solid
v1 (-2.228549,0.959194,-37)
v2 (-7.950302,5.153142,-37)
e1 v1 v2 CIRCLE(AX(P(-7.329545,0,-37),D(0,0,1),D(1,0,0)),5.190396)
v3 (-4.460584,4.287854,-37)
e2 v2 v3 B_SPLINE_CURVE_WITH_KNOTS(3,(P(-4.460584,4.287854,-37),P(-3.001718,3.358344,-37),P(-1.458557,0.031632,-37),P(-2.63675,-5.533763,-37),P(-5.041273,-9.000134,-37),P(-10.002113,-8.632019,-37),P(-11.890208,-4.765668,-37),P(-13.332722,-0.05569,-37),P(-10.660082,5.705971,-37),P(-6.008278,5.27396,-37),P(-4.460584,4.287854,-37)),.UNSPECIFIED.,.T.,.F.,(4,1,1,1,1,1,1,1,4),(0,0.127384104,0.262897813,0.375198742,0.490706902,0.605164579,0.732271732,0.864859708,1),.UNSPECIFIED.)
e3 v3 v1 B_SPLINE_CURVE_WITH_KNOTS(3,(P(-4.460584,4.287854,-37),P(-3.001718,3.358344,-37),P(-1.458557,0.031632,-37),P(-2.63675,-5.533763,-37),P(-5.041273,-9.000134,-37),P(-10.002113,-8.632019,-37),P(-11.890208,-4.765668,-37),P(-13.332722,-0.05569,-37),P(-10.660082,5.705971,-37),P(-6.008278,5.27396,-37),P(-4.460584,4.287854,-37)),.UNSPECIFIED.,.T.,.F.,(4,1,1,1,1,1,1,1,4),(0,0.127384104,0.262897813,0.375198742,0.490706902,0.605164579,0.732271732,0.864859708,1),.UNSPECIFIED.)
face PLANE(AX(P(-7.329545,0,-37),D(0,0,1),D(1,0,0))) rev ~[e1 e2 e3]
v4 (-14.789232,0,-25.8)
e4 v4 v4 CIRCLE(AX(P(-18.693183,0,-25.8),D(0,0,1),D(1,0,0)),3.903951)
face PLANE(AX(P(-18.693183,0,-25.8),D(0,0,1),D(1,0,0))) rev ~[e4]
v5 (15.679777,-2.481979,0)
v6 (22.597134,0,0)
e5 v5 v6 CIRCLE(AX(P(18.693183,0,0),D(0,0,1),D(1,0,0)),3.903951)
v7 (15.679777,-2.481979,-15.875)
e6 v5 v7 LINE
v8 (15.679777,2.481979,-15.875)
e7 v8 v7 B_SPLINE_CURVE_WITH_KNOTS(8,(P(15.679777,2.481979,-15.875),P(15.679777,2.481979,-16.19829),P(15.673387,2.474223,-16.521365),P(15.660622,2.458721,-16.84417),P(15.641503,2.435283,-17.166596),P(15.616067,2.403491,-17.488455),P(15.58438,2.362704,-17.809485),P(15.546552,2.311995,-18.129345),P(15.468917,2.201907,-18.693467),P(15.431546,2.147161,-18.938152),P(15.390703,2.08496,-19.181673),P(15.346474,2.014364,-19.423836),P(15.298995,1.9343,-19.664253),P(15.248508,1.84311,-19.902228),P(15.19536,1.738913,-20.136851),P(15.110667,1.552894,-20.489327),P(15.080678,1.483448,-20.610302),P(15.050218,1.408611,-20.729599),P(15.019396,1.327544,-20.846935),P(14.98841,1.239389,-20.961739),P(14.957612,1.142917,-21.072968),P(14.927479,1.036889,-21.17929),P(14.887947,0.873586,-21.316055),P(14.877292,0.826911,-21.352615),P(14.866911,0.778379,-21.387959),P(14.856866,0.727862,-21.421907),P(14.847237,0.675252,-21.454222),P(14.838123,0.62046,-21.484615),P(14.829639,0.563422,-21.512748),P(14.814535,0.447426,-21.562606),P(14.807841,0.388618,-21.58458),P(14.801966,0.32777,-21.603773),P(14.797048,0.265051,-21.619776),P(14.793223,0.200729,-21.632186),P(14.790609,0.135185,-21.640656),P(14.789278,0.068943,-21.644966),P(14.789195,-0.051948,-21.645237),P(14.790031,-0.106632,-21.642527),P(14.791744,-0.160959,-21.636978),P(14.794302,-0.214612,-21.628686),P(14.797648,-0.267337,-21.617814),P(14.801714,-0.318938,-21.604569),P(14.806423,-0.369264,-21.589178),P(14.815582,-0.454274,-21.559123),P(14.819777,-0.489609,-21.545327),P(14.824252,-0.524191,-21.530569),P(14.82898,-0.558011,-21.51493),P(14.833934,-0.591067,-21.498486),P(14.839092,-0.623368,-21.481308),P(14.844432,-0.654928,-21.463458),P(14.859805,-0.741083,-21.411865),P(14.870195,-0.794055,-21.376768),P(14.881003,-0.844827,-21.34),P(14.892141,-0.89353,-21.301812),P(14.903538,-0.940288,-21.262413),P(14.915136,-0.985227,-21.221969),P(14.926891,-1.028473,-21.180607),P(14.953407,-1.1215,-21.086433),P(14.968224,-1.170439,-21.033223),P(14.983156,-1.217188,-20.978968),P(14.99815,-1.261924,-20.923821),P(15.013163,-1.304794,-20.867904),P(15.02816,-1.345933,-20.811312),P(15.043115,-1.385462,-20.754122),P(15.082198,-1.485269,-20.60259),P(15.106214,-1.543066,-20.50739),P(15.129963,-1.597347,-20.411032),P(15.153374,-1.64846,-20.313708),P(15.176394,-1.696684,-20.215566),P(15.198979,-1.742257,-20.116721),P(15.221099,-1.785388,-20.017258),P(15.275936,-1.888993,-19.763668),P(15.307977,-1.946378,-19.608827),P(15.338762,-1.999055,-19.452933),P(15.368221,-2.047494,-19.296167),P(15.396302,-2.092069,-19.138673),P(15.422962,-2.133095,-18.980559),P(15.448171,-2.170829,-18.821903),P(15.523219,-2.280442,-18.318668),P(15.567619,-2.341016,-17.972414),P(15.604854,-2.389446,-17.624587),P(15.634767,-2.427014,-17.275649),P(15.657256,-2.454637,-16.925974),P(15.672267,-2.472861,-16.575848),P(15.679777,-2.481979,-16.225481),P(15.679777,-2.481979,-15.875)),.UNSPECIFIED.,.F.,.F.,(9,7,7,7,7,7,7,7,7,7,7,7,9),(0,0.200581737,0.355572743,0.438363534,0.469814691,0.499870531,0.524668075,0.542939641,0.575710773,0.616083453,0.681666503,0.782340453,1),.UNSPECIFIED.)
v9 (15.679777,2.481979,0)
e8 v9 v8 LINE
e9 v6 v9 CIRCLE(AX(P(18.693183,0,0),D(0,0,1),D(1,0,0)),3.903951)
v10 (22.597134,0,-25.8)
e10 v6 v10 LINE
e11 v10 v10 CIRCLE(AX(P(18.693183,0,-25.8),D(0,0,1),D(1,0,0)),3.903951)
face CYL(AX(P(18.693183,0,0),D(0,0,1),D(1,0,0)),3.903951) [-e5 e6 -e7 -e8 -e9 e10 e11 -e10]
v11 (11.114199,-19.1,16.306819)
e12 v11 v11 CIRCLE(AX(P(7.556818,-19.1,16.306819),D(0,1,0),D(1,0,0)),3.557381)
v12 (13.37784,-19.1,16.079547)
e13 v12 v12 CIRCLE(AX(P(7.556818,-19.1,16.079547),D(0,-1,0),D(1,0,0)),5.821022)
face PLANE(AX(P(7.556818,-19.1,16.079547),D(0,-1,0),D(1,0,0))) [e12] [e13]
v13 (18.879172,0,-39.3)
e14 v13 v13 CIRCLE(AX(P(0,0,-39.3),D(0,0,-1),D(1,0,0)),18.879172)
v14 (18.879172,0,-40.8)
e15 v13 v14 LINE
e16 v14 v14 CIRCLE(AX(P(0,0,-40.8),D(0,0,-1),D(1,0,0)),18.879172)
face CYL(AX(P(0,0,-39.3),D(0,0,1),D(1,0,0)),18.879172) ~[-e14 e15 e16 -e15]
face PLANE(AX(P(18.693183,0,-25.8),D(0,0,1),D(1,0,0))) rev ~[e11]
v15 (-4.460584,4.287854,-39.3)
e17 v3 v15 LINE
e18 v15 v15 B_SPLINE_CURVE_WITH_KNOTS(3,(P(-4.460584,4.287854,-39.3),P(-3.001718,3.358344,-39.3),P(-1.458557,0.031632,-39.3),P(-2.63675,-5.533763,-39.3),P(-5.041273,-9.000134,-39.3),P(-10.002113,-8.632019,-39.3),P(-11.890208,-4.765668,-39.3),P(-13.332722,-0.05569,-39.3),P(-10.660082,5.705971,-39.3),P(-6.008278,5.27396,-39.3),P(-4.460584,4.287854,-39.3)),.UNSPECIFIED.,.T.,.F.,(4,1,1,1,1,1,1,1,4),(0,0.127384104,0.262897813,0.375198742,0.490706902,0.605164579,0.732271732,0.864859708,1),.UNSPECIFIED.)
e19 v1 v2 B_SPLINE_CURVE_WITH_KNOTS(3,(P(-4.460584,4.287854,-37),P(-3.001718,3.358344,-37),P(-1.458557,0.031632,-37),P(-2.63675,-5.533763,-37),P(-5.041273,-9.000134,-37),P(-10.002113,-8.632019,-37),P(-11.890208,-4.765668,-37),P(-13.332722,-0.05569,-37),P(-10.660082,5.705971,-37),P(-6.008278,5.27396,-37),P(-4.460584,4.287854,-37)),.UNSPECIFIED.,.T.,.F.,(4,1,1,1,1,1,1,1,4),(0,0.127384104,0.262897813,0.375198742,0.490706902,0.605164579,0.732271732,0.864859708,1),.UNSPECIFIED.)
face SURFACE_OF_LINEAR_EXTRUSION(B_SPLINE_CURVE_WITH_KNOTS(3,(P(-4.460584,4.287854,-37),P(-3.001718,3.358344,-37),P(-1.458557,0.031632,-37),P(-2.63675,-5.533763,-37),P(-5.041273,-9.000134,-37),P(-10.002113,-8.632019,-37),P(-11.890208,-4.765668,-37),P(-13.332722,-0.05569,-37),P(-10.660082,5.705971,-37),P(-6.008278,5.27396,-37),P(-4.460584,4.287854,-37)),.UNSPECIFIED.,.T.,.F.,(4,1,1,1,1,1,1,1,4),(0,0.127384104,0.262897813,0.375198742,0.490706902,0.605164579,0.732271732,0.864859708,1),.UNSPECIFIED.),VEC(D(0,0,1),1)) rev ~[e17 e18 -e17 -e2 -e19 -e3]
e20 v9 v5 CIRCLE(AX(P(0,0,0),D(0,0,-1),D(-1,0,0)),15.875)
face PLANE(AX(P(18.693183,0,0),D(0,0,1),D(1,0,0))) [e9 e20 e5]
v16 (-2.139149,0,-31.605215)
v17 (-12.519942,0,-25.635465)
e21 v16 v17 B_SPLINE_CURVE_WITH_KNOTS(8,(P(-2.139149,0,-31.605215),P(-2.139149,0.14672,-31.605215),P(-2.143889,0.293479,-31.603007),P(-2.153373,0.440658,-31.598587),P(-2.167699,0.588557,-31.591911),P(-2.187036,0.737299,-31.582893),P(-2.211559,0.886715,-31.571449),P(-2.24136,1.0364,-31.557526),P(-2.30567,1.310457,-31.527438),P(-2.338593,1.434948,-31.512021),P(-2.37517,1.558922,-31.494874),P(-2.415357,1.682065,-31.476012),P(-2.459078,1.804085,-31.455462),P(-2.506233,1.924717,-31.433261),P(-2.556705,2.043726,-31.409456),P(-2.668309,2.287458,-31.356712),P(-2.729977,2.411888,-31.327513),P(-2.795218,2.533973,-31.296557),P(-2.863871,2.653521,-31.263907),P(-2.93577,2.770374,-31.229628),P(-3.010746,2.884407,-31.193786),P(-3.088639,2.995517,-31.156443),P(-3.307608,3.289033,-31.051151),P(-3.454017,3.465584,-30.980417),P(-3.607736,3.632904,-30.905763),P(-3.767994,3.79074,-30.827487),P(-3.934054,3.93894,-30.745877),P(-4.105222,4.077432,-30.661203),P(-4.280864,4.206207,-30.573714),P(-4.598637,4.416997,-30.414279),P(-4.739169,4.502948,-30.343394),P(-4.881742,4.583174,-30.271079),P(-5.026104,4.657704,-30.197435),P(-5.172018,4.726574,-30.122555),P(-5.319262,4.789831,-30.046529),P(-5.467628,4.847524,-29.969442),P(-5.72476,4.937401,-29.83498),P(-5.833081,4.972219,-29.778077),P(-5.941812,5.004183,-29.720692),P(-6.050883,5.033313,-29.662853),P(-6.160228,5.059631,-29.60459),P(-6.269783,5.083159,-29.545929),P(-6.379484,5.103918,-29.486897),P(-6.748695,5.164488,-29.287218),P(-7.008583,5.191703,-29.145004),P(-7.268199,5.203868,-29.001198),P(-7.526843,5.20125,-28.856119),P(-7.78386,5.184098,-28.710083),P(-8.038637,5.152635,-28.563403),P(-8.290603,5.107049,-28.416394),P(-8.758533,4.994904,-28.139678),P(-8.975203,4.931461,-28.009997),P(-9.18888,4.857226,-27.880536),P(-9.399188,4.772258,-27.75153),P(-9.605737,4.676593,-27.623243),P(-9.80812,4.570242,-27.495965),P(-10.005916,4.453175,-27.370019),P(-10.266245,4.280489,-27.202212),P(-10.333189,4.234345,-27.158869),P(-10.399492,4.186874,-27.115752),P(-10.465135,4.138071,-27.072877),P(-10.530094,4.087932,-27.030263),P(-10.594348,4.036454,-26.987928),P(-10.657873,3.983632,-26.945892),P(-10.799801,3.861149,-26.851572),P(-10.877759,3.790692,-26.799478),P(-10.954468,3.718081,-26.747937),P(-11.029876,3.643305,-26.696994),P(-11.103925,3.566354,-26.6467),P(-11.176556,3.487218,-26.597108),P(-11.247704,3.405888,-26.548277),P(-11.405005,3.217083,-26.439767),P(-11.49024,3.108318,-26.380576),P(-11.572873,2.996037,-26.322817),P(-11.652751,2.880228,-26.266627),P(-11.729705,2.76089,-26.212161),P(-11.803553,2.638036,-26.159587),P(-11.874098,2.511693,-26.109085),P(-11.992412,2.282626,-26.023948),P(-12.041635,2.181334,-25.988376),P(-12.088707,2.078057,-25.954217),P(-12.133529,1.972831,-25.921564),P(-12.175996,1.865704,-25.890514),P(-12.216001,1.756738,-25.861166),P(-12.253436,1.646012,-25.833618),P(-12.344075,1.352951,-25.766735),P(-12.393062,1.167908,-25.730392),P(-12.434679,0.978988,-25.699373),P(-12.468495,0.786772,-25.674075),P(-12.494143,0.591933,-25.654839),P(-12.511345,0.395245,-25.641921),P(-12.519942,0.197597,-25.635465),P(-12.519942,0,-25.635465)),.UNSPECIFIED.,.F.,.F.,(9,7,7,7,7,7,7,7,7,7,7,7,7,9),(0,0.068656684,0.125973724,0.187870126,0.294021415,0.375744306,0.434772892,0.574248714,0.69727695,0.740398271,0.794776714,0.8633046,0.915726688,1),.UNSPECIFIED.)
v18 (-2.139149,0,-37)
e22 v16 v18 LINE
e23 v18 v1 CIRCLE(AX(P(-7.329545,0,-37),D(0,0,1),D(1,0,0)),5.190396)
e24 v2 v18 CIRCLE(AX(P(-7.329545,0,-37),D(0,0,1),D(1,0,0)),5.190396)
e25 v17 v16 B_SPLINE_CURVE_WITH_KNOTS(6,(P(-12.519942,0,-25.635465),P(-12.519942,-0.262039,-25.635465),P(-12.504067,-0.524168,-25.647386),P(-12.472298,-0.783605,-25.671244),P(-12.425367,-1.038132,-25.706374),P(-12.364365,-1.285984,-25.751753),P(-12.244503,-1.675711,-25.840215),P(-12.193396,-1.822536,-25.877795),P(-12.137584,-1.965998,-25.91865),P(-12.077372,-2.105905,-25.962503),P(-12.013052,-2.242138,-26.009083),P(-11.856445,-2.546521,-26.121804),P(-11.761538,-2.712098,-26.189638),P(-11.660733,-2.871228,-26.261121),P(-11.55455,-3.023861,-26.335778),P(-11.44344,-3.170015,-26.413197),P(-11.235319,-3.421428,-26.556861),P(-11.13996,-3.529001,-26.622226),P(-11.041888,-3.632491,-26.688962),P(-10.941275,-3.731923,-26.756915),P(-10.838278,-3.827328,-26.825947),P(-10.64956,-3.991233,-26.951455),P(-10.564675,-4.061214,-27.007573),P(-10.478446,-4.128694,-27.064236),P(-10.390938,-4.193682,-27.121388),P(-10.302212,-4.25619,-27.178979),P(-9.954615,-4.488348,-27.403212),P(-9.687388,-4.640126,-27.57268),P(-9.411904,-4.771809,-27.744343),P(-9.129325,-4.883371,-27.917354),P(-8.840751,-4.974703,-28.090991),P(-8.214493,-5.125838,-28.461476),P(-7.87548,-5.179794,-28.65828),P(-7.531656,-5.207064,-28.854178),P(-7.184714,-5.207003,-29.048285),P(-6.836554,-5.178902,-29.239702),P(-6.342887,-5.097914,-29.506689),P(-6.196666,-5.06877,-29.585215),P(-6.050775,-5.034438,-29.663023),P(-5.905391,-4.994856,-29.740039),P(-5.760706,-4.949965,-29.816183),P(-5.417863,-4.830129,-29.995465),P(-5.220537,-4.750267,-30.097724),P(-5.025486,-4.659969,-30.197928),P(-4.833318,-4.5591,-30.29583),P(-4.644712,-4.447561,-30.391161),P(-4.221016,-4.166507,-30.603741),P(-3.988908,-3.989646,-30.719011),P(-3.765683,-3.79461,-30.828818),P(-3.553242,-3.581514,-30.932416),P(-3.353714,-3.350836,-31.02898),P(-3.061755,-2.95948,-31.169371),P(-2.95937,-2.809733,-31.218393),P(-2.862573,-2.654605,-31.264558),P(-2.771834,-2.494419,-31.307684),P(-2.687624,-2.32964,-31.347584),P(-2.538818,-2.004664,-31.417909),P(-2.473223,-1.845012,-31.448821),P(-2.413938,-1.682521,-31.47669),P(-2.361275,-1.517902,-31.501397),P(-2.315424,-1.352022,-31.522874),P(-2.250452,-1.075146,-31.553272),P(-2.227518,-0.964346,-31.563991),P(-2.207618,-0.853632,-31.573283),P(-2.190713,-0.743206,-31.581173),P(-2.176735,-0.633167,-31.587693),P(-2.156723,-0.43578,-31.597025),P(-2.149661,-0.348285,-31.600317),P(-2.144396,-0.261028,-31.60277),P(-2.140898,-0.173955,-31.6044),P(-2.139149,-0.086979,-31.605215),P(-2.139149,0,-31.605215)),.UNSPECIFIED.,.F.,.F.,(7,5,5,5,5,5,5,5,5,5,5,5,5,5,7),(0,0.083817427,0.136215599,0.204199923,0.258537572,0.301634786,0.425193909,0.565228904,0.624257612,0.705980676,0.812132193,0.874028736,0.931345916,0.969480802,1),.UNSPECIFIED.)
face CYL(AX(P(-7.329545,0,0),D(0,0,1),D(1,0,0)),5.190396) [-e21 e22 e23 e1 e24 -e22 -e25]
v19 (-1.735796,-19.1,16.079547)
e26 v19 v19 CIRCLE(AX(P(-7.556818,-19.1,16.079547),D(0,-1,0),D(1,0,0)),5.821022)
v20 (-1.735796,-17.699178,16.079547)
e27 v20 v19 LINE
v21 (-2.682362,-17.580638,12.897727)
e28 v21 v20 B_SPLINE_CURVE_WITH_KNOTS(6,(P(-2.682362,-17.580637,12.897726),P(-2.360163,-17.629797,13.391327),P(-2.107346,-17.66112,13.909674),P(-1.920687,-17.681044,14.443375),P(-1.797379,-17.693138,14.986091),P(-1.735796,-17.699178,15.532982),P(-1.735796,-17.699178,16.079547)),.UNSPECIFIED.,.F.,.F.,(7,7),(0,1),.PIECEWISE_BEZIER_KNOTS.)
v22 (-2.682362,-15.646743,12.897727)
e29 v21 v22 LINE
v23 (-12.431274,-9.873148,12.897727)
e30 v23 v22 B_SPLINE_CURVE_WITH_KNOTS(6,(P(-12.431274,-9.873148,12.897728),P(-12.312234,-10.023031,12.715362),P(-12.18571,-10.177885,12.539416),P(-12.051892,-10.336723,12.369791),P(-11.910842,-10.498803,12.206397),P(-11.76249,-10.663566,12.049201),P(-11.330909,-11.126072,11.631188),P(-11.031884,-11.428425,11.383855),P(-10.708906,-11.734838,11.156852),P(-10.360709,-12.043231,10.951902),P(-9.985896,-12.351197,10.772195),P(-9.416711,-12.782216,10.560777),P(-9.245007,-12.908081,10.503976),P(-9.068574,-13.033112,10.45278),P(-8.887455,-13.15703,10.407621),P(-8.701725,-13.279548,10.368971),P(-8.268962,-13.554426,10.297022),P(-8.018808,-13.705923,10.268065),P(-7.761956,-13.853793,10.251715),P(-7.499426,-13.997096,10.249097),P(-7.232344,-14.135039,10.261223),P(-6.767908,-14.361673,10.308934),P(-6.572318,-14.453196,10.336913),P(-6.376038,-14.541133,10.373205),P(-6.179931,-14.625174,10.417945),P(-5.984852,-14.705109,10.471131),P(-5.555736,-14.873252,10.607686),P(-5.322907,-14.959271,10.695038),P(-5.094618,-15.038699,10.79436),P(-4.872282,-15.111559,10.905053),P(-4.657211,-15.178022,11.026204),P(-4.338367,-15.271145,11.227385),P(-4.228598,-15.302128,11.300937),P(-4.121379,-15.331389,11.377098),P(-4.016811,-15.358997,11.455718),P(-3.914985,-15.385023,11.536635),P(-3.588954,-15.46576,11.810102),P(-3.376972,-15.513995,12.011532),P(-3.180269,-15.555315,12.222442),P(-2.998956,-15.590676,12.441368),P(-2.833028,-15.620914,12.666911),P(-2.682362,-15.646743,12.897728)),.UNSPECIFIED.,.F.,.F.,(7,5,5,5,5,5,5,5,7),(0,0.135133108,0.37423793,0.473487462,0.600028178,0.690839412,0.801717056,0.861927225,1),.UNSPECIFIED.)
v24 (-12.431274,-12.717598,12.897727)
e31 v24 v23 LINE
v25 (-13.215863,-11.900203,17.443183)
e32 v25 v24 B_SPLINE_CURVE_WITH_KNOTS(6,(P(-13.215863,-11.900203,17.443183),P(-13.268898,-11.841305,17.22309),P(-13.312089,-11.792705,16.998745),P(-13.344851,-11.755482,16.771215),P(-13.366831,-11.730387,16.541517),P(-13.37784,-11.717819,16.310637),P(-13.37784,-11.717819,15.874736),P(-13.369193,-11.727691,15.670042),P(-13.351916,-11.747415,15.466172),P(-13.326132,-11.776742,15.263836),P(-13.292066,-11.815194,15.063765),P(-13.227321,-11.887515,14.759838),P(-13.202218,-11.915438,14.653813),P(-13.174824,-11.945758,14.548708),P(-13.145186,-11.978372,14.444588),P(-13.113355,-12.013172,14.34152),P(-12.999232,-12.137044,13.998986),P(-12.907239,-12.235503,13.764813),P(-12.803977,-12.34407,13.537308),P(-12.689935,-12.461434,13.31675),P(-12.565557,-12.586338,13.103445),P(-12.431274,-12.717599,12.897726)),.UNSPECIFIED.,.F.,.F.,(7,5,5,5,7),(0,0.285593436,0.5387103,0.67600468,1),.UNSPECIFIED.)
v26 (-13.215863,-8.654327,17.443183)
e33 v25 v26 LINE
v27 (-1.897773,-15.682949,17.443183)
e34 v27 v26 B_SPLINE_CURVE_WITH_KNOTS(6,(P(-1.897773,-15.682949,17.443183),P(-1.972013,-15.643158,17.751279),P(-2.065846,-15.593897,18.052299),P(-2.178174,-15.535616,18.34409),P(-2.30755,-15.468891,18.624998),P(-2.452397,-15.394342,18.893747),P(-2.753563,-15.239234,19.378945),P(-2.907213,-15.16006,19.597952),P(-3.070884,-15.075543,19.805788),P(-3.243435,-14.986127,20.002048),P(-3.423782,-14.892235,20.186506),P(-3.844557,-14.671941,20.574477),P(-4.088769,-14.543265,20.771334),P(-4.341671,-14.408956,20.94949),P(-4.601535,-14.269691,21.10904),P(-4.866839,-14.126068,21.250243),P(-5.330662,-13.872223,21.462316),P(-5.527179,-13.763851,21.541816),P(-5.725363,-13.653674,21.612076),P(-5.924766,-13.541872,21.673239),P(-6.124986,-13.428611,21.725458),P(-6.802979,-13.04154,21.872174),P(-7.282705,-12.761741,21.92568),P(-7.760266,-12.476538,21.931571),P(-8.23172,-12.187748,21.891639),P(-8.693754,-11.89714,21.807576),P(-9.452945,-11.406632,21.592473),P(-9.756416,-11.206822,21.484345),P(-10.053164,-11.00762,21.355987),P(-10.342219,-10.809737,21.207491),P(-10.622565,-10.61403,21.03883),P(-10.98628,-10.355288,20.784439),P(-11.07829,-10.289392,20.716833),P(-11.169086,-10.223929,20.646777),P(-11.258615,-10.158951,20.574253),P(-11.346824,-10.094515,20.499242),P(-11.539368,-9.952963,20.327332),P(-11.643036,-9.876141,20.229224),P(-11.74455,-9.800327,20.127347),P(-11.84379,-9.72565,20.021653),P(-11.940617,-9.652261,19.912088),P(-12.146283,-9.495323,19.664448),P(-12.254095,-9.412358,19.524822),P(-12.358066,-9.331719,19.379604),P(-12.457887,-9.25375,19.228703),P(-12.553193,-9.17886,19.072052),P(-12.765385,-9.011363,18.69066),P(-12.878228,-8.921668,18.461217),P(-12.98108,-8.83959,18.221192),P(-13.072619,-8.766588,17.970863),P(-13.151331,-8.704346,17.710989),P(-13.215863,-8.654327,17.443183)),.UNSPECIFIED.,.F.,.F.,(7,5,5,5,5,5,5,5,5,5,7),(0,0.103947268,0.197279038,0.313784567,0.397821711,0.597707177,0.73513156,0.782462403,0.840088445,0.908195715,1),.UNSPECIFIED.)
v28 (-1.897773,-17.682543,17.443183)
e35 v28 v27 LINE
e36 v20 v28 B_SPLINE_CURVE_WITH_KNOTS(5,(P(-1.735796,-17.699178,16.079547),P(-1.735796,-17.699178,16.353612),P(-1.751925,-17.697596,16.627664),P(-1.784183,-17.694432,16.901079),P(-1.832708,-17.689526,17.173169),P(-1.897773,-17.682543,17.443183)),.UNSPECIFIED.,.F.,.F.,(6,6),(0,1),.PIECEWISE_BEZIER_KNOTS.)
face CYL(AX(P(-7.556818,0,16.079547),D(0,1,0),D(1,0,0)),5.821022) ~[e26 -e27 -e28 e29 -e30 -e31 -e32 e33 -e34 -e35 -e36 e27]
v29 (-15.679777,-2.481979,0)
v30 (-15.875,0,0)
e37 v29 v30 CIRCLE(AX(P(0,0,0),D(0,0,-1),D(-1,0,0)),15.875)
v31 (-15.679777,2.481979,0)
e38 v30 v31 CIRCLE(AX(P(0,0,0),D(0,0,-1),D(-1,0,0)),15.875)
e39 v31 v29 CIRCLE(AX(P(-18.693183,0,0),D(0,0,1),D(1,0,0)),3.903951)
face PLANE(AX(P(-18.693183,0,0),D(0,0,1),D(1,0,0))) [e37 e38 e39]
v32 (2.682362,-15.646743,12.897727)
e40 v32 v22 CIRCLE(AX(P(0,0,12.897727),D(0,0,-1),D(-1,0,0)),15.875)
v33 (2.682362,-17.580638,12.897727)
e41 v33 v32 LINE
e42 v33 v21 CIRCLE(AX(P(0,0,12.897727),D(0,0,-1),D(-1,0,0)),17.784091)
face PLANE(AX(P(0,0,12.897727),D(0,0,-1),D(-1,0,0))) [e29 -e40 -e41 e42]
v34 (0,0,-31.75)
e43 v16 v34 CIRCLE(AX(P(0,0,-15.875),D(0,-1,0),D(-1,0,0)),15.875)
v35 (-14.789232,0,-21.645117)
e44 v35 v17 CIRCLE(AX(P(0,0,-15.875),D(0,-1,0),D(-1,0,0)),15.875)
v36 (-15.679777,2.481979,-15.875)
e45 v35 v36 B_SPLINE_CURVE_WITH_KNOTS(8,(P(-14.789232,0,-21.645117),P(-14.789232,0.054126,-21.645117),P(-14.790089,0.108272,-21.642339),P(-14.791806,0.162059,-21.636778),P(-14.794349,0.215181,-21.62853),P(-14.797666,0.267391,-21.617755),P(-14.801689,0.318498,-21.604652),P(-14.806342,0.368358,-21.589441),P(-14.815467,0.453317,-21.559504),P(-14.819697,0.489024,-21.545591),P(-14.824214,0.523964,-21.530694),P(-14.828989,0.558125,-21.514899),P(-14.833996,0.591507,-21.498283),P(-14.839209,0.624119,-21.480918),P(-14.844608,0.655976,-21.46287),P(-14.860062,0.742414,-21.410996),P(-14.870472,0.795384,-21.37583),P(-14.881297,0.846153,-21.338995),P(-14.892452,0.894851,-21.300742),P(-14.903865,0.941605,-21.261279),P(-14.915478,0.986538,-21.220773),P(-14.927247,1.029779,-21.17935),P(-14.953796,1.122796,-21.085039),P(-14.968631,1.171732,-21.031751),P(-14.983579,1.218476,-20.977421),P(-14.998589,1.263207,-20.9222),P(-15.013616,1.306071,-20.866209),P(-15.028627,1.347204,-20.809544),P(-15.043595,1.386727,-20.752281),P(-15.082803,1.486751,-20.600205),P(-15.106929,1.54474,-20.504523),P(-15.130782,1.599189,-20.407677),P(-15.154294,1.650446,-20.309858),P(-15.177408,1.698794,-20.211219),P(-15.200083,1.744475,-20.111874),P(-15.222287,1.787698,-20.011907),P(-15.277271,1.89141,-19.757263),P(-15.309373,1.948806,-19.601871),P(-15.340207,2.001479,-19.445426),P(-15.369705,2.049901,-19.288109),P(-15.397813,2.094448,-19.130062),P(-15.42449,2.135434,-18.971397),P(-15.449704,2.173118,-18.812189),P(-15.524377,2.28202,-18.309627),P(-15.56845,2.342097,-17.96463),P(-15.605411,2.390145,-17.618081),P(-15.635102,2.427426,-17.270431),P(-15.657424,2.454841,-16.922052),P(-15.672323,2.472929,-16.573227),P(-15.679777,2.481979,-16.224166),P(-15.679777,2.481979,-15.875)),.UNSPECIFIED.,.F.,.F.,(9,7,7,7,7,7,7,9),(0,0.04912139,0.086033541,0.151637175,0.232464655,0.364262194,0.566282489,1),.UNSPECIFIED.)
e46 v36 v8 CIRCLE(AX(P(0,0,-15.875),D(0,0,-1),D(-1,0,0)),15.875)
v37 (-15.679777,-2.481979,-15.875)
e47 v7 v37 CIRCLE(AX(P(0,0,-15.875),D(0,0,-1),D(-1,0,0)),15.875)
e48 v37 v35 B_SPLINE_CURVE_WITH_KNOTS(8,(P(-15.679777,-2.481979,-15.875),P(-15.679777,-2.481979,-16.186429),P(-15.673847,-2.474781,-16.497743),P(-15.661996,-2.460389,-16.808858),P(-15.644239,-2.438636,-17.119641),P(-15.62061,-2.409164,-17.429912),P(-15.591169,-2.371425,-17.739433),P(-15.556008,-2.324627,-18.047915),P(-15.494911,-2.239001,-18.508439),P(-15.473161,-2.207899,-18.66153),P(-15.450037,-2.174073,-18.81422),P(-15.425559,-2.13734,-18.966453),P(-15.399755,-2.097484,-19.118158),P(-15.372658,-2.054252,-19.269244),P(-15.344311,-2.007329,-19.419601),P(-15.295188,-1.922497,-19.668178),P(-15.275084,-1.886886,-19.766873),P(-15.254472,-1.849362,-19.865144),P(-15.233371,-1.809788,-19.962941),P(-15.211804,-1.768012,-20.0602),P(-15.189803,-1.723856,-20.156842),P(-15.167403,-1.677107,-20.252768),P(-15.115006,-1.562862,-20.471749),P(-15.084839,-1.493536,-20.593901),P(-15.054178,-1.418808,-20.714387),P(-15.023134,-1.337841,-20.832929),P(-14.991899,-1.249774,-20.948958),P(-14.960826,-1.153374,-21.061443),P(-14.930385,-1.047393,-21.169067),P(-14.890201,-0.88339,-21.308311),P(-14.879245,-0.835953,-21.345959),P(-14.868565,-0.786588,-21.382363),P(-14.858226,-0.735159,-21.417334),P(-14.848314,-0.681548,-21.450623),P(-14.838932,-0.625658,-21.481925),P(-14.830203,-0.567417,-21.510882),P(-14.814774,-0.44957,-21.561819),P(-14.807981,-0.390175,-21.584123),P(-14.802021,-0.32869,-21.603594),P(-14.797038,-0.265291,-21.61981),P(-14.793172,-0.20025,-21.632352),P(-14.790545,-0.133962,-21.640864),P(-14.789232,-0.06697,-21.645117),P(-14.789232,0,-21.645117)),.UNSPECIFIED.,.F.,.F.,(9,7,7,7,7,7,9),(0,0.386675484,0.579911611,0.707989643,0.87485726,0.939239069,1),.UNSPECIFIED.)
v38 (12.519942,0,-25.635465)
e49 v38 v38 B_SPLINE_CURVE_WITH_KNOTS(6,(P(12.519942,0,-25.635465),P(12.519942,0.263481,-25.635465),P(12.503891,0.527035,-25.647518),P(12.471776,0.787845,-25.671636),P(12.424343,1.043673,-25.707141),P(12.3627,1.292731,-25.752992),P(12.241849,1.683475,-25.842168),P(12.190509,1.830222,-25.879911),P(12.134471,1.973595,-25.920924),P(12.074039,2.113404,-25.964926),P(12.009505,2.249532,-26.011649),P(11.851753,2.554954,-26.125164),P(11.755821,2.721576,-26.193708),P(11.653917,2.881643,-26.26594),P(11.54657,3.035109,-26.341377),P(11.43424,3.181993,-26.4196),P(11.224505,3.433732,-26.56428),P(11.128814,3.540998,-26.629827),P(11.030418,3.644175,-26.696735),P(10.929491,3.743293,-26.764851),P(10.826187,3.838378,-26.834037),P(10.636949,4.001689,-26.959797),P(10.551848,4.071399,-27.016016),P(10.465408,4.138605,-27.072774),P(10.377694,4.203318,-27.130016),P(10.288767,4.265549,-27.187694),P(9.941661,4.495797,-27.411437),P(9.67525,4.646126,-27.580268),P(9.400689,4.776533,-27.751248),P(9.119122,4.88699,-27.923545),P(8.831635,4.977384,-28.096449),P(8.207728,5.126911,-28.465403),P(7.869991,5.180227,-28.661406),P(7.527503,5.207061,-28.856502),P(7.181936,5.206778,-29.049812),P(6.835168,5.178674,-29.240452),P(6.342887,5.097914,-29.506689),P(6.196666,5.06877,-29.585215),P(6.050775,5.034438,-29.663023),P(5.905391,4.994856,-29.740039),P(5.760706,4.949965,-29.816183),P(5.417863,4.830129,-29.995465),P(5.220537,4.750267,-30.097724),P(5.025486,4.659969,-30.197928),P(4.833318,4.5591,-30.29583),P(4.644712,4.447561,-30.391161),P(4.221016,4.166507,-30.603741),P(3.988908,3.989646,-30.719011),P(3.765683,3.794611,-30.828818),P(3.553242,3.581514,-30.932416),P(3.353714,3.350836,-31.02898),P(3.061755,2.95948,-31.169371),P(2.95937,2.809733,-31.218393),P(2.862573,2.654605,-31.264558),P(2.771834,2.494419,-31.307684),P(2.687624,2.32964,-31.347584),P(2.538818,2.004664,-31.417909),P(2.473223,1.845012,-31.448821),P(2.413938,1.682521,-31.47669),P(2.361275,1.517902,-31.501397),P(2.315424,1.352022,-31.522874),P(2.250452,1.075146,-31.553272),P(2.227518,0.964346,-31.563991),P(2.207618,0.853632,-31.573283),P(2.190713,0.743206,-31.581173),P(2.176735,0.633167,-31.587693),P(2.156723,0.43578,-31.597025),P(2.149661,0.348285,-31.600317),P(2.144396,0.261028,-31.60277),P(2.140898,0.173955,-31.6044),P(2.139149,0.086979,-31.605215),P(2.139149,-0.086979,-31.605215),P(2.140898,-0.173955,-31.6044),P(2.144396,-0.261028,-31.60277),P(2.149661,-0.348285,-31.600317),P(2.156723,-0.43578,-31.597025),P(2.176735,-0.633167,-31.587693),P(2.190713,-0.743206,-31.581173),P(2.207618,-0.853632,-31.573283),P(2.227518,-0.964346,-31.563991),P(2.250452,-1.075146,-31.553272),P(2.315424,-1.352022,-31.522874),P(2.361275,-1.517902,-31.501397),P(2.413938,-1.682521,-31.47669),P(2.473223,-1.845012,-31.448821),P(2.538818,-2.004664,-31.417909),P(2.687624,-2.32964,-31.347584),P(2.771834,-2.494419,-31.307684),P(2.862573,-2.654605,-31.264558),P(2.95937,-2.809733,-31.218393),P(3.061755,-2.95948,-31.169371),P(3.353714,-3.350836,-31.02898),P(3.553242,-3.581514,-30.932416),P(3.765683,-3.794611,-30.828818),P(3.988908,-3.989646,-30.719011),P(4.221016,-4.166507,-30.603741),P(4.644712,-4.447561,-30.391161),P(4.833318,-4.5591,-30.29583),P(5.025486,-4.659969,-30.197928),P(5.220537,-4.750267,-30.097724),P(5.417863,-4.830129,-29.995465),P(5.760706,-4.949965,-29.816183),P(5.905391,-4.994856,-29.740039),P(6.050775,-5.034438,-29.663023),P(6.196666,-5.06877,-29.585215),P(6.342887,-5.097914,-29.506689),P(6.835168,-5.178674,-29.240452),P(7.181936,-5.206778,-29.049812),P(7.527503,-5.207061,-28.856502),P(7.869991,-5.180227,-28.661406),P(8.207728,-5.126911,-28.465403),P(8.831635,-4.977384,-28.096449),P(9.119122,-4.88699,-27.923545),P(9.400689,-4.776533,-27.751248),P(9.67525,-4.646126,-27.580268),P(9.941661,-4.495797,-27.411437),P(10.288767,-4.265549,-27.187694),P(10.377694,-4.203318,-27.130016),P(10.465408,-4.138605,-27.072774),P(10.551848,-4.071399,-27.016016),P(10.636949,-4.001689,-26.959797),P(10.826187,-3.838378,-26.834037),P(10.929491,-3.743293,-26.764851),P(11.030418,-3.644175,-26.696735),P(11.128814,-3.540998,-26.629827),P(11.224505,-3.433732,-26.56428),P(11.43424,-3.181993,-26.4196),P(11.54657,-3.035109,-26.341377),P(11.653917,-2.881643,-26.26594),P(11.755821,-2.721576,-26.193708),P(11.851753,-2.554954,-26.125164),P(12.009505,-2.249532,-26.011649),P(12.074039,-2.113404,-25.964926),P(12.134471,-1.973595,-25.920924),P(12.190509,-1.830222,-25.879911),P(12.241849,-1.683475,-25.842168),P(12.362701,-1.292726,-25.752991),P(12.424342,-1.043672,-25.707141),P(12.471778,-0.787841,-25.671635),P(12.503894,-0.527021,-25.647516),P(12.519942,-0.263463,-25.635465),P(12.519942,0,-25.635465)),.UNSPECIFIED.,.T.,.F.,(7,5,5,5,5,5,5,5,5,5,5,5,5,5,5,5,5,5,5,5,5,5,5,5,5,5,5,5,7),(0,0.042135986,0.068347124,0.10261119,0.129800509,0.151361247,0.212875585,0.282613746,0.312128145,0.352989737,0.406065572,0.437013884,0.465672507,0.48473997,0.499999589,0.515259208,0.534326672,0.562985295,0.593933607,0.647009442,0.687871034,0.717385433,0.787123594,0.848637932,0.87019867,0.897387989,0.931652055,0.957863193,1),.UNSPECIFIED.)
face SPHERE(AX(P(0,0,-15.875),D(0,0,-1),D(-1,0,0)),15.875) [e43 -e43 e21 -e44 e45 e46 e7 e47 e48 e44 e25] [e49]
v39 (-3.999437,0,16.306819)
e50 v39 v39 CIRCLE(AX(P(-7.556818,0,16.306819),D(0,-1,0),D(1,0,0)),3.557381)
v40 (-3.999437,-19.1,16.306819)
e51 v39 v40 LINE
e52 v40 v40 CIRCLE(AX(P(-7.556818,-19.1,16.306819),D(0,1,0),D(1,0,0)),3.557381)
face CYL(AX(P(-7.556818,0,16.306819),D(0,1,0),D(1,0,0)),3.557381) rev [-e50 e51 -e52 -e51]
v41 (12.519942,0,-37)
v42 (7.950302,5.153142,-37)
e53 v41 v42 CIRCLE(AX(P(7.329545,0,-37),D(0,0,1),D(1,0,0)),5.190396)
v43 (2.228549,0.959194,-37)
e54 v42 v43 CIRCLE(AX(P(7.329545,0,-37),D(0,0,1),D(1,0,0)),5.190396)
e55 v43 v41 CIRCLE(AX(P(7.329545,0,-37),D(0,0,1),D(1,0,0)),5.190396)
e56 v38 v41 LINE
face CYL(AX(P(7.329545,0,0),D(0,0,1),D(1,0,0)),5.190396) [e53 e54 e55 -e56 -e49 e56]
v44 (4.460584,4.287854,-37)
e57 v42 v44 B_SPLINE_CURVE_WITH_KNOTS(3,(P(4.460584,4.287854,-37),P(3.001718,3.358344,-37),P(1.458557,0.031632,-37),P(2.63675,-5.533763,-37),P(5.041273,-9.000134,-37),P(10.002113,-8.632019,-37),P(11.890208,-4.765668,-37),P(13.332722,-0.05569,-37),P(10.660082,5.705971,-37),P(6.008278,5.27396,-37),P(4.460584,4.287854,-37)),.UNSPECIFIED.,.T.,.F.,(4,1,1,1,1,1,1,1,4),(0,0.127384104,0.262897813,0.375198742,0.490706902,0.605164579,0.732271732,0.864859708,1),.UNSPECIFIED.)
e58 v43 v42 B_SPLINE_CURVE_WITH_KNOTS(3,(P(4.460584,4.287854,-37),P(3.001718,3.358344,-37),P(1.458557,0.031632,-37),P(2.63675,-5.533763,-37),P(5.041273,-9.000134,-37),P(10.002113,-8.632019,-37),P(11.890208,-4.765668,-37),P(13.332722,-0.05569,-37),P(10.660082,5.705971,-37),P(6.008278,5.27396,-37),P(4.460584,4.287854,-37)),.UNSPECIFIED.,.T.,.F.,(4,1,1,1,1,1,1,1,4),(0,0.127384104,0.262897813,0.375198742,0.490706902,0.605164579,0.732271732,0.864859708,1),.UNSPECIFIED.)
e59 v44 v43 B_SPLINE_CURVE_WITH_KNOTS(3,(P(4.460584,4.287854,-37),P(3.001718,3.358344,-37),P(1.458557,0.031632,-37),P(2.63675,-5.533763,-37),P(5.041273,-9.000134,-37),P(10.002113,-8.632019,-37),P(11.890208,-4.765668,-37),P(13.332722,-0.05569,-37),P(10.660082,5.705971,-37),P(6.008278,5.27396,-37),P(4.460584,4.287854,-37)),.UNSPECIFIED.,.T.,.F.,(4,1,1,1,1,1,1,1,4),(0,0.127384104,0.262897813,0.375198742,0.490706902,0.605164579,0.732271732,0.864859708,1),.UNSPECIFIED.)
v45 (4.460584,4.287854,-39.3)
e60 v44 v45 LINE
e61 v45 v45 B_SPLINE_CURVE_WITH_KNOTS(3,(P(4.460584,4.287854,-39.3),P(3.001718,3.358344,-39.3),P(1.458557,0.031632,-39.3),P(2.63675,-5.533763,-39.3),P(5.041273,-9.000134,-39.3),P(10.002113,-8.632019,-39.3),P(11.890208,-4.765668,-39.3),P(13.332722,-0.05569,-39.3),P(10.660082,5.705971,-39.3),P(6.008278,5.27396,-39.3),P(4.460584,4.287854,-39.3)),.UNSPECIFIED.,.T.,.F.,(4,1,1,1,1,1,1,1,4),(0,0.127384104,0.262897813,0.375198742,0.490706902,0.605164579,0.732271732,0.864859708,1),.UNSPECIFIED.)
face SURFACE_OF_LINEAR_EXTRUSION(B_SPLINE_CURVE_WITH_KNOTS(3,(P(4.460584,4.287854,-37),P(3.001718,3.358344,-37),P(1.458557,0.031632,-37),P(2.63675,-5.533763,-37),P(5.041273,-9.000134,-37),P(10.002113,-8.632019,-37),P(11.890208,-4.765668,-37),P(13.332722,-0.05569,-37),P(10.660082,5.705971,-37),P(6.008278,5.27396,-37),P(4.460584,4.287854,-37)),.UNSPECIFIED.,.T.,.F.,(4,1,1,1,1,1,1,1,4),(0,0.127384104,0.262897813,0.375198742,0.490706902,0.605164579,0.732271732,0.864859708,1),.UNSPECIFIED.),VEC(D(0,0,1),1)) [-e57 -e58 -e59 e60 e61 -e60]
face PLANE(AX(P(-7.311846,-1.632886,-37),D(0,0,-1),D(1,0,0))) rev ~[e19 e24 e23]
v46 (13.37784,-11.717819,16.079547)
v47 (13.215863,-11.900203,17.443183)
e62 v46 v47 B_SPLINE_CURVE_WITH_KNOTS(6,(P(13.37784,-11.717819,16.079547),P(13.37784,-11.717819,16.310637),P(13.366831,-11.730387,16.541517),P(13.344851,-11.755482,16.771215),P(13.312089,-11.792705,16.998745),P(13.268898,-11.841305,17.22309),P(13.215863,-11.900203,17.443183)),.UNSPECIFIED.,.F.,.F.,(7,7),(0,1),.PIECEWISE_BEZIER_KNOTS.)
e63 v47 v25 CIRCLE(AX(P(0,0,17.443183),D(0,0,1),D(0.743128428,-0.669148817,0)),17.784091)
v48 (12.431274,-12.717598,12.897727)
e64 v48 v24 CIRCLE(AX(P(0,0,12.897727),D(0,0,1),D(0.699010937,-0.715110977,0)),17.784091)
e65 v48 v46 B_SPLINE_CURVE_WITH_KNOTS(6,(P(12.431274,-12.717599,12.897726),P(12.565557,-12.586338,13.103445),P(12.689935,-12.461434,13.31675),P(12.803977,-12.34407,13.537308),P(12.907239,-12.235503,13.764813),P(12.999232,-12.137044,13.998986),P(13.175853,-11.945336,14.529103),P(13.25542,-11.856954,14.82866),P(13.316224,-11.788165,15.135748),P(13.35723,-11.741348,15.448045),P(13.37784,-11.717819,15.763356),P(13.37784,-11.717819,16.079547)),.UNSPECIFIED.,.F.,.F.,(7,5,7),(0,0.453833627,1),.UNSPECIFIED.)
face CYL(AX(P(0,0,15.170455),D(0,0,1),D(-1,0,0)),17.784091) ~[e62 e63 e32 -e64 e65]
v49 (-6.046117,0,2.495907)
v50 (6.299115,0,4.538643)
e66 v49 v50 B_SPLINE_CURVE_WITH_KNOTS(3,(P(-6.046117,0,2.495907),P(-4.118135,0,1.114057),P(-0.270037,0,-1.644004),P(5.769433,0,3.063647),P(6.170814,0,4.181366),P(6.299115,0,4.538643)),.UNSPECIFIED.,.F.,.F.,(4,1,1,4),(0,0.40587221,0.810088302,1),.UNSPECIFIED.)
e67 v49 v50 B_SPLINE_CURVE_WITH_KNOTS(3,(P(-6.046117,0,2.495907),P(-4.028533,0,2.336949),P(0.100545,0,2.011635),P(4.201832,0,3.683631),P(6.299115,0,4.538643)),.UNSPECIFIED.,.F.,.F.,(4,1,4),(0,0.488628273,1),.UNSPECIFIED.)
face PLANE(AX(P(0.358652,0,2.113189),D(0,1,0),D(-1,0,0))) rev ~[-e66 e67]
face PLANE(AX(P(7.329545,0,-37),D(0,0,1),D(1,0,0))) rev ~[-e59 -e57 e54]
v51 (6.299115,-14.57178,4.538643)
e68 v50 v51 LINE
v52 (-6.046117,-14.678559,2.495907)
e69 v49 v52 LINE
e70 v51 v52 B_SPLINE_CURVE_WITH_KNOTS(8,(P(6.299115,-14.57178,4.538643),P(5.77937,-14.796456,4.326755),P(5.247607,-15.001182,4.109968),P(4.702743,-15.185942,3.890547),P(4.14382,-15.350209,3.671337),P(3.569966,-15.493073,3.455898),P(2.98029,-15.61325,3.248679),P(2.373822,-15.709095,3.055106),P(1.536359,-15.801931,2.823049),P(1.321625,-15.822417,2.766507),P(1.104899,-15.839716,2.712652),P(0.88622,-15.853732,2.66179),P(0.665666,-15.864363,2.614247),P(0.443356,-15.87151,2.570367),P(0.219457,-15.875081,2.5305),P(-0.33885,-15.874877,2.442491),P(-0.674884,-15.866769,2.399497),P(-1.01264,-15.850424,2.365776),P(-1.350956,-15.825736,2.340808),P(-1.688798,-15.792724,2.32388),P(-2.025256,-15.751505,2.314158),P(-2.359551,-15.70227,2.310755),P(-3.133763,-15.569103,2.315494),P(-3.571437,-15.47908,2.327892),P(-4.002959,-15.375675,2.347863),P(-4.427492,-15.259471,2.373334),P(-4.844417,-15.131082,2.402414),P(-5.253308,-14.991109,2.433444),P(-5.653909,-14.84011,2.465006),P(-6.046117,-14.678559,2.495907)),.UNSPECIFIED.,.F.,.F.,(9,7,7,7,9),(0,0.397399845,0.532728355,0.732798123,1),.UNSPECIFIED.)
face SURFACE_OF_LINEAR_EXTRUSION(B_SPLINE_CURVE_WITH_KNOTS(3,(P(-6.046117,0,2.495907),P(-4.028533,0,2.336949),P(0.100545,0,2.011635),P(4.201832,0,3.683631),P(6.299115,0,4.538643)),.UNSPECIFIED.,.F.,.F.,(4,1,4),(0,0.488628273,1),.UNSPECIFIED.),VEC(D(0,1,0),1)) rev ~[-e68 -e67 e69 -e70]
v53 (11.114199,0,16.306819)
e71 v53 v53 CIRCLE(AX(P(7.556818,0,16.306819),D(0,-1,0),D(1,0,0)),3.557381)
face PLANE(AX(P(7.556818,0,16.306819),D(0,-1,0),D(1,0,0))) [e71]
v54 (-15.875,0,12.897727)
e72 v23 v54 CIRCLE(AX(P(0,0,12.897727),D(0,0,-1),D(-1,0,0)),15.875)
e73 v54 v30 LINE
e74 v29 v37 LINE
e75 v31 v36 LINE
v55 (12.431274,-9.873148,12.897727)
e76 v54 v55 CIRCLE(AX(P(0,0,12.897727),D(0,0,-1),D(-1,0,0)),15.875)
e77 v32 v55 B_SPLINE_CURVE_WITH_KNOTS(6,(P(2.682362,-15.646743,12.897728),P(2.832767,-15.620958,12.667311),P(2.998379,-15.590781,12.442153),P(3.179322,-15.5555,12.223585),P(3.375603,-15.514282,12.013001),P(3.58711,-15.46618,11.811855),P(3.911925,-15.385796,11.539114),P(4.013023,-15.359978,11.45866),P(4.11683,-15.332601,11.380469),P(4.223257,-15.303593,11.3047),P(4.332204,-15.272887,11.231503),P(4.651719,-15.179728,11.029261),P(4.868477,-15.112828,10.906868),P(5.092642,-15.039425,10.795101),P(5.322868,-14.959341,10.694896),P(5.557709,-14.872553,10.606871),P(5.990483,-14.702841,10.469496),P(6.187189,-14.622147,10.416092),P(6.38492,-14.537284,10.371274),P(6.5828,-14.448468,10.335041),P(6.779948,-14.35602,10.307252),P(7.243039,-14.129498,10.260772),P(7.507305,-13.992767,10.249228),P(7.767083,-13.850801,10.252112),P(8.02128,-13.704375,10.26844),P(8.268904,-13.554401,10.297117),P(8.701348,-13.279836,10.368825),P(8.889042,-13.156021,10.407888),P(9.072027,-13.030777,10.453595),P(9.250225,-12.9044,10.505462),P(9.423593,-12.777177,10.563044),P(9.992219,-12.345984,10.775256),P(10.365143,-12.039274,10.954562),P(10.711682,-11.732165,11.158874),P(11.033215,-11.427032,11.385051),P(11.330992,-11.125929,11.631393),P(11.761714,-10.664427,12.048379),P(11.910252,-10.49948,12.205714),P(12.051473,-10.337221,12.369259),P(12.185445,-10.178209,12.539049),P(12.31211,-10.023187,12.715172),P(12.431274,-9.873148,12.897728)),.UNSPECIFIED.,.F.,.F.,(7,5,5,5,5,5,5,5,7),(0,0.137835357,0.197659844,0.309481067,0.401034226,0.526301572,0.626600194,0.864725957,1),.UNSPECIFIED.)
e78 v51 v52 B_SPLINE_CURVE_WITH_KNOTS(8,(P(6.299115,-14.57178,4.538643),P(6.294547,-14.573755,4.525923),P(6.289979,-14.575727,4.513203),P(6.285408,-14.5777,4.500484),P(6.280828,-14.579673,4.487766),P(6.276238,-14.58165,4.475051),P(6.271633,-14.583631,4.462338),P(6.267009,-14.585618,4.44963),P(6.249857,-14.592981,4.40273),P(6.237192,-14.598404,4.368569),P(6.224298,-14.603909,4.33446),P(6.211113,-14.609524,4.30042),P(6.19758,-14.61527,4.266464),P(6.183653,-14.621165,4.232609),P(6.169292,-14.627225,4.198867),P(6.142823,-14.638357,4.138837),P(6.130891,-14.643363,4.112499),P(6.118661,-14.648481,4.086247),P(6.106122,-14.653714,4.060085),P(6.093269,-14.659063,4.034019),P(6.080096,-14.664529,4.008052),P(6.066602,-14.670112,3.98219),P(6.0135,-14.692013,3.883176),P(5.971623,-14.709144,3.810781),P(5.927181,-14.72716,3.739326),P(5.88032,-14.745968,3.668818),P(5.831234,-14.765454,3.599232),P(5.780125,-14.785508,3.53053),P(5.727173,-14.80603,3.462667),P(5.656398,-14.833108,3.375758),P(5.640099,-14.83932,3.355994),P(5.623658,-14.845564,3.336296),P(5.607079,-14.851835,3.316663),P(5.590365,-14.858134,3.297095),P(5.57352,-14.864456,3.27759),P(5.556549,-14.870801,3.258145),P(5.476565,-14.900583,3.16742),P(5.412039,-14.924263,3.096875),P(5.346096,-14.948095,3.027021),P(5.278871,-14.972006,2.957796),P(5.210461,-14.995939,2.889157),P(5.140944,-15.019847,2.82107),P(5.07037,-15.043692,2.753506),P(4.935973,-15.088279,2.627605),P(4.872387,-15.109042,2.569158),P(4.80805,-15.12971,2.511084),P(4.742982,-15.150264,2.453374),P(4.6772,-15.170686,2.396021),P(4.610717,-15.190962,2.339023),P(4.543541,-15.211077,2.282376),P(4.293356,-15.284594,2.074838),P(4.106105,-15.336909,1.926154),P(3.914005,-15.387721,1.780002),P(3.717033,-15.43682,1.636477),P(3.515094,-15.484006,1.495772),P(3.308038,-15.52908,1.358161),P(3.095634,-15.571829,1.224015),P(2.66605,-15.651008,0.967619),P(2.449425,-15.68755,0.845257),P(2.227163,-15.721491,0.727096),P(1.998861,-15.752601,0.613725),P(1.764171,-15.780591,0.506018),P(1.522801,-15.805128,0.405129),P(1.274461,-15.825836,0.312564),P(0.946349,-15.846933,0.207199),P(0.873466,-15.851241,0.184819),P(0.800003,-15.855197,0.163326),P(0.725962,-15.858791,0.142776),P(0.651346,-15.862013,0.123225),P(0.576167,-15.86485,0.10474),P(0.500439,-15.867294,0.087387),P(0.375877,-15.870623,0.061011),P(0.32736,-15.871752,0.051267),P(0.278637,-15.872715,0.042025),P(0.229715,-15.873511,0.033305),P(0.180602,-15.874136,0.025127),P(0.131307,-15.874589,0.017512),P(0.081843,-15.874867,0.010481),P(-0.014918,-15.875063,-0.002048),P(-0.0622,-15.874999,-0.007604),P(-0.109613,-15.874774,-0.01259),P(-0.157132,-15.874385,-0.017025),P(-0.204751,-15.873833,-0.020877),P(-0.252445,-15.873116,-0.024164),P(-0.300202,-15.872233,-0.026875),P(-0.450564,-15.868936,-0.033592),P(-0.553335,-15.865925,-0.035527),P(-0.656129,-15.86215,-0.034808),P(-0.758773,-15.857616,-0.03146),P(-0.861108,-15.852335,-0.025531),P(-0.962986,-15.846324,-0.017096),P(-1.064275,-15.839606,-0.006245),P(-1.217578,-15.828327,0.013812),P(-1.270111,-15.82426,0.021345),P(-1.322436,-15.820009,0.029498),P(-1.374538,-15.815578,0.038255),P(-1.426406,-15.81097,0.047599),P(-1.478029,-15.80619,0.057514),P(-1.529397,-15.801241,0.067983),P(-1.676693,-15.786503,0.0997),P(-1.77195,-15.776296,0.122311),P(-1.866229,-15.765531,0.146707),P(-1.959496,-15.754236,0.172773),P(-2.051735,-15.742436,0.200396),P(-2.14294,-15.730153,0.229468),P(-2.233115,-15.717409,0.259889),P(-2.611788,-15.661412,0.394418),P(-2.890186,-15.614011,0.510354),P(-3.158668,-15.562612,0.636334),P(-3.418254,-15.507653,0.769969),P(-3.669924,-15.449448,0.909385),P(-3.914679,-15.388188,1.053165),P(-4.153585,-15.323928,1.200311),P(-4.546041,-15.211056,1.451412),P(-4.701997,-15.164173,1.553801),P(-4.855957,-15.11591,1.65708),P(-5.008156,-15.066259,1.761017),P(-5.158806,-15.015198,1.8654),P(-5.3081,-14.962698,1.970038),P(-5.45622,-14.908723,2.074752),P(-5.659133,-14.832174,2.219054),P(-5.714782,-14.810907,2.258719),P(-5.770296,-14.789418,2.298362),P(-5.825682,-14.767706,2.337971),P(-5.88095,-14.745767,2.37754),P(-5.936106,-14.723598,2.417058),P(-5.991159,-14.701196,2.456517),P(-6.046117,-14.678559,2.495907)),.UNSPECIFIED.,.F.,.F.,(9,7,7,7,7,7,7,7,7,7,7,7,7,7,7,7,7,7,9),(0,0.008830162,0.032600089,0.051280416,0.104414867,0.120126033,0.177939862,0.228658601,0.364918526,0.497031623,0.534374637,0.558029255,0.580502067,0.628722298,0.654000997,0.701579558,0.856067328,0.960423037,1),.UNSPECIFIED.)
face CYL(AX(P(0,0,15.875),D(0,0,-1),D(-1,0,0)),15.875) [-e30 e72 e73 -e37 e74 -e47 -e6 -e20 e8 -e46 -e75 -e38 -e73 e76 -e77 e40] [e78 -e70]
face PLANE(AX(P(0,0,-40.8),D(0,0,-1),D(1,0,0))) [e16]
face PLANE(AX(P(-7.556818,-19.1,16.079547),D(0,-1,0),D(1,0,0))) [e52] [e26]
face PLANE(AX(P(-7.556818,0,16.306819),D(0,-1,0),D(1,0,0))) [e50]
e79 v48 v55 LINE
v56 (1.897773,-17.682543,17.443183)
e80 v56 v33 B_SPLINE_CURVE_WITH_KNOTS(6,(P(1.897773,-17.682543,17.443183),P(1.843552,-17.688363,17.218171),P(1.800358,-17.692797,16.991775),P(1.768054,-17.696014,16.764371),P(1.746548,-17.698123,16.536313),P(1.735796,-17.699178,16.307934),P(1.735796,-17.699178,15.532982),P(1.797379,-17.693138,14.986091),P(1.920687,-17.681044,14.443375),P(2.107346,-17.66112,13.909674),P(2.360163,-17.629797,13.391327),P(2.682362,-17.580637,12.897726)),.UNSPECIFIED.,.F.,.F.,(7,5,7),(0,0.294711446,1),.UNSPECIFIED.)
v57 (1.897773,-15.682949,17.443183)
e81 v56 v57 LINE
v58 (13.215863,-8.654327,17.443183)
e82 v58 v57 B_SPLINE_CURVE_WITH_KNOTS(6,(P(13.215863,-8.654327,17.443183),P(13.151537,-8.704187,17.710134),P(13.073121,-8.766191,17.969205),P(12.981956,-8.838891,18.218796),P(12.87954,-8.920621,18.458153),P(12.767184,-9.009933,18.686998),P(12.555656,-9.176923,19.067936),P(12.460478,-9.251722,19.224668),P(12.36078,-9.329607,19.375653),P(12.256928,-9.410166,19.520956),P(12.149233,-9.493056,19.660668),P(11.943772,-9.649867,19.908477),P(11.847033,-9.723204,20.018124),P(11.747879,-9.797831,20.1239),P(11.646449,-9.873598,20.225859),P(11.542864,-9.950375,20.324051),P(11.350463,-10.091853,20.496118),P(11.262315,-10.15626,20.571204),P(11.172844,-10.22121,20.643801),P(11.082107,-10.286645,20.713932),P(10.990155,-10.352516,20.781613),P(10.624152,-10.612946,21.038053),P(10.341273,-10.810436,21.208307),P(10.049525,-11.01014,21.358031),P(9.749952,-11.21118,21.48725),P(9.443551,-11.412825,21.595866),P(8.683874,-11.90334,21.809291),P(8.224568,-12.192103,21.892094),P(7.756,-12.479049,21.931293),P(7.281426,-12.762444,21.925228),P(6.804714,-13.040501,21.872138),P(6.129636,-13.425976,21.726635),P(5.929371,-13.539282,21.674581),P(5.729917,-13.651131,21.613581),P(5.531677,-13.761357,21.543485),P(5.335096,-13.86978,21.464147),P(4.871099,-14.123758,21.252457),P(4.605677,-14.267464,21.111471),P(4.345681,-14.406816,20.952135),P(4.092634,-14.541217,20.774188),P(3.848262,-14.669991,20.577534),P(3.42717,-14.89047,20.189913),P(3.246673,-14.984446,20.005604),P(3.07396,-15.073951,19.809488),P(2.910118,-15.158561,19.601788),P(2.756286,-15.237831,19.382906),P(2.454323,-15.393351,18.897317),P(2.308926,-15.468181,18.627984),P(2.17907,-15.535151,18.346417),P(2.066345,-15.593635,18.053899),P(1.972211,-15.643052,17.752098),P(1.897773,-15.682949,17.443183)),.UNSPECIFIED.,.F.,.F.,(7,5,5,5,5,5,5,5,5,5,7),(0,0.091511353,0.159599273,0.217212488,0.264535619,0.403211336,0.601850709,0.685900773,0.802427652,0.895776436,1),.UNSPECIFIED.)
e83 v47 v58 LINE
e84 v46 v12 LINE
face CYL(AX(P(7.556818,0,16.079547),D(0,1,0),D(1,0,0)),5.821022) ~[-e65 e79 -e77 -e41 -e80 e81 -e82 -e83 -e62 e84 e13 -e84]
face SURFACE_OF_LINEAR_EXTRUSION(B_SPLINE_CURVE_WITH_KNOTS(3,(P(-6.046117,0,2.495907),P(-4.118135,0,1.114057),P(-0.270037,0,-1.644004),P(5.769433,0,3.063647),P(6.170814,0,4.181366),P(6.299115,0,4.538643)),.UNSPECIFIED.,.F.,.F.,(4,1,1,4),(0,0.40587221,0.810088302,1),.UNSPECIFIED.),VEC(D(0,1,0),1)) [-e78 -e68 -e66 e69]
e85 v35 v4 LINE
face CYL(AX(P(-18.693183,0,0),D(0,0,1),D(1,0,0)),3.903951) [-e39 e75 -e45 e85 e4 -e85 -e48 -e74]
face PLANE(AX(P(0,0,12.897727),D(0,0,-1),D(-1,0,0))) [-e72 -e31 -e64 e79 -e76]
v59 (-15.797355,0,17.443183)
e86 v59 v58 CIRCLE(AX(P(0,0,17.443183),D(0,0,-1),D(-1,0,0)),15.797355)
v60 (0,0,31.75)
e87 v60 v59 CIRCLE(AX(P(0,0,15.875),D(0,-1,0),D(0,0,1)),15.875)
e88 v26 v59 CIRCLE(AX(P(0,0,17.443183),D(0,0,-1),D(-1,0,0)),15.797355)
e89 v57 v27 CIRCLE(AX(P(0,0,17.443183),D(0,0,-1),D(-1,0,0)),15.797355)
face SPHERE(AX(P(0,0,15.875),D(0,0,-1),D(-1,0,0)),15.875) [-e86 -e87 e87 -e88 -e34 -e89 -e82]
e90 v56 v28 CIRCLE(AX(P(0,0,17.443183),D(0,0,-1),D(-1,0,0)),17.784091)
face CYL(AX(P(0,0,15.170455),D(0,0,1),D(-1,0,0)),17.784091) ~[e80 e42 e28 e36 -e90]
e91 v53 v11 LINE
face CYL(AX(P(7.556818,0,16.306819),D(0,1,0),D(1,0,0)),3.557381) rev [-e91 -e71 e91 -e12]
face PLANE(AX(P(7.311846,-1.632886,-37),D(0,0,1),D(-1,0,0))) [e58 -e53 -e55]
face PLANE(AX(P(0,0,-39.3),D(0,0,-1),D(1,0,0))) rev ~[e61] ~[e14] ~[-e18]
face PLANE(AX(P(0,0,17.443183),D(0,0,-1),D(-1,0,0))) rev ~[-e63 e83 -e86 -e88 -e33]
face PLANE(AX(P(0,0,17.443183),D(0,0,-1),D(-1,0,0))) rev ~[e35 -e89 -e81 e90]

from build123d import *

# Parameters (mm, degrees)
F4_DEPTH  = 28.2
F5_R      = 3.9039510248
F6_DEPTH  = 25.8
F7_R      = 5.1903964383
F8_DEPTH  = 37
F10_DEPTH = 2.3
F11_R     = 18.8791722518
F12_DEPTH = 1.5
F13_W     = 2.7272701263
F13_H     = 4.5454557985
F15_R     = 5.8210220824
F16_DEPTH = 19.1
F17_R     = 3.5573808127
F18_DEPTH = 30


with BuildPart() as f1:
    # F0 (on Front) → F1 (revolve)
    with BuildSketch(Plane.XZ):
        with BuildLine():
            Line((-15.875, -15.875), (0, -15.875))
            Line((0, -15.875), (0, 31.75))
            ThreePointArc((0, 31.75), (-11.2253201513, 27.1003201513), (-15.875, 15.875))
            Line((-15.875, 15.875), (-15.875, -15.875))
        make_face()
        with BuildLine():
            Line((0, -31.75), (0, -15.875))
            Line((0, -15.875), (-15.875, -15.875))
            ThreePointArc((-15.875, -15.875), (-11.2253201513, -27.1003201513), (0, -31.75))
        make_face()
    revolve(axis=Axis((0, 0, 0), (0, 0, -1)))

    # F3 (on Front) → F4 (cut)
    with BuildSketch(Plane.XZ):
        with BuildLine():
            add(Edge.make_bspline(
                [(-6.0461172834, 2.4959067814), (-4.028533158, 2.3369491255), (0.1005445797, 2.0116350481), (4.2018322358, 3.6836311663), (6.2991147861, 4.5386427082)],
                knots=[0, 0, 0, 0, 0.4886282733, 1, 1, 1, 1], degree=3))
            add(Edge.make_bspline(
                [(-6.0461172834, 2.4959067814), (-4.1181349295, 1.1140568782), (-0.2700371414, -1.644004442), (5.7694328778, 3.0636466915), (6.1708141175, 4.1813660633), (6.2991147861, 4.5386427082)],
                knots=[0, 0, 0, 0, 0.4058722095, 0.8100883022, 1, 1, 1, 1], degree=3))
        make_face()
    extrude(amount=F4_DEPTH, mode=Mode.SUBTRACT)

    # F5 (on Top) → F6 (join)
    with BuildSketch(Plane.XY):
        with Locations((18.6931826174, 0)):
            Circle(F5_R)
        with Locations((-18.6931826174, 0)):
            Circle(F5_R)
    extrude(amount=-F6_DEPTH)

    # F7 (on Top) → F8 (join)
    with BuildSketch(Plane.XY):
        with Locations((-7.3295454495, 0)):
            Circle(F7_R)
        with Locations((7.3295454495, 0)):
            Circle(F7_R)
    extrude(amount=-F8_DEPTH)

    # F9 (on face) → F10 (join)
    with BuildSketch(Plane(origin=(0, 0, -37), x_dir=(1, 0, 0), z_dir=(0, 0, -1))):
        with BuildLine():
            add(Edge.make_bspline(
                [(-4.4605839066, -4.2878543027), (-3.0017179574, -3.3583444212), (-1.458556714, -0.0316324394), (-2.6367504729, 5.533763177), (-5.0412732751, 9.0001336545), (-10.0021127312, 8.6320191516), (-11.8902083946, 4.7656677042), (-13.3327215963, 0.0556902916), (-10.6600823735, -5.7059711702), (-6.0082775674, -5.2739603612), (-4.4605839066, -4.2878543027)],
                knots=[0, 0, 0, 0, 0.1273841038, 0.2628978132, 0.3751987417, 0.4907069022, 0.6051645787, 0.732271732, 0.8648597083, 1, 1, 1, 1], degree=3))
        make_face()
        with BuildLine():
            add(Edge.make_bspline(
                [(4.4605839066, -4.2878543027), (3.0017179574, -3.3583444212), (1.458556714, -0.0316324394), (2.6367504729, 5.533763177), (5.0412732751, 9.0001336545), (10.0021127312, 8.6320191516), (11.8902083946, 4.7656677042), (13.3327215963, 0.0556902916), (10.6600823735, -5.7059711702), (6.0082775674, -5.2739603612), (4.4605839066, -4.2878543027)],
                knots=[0, 0, 0, 0, 0.1273841038, 0.2628978132, 0.3751987417, 0.4907069022, 0.6051645787, 0.732271732, 0.8648597083, 1, 1, 1, 1], degree=3))
        make_face()
    extrude(amount=F10_DEPTH)

    # F11 (on face) → F12 (join)
    with BuildSketch(Plane(origin=(0, 0, -39.3), x_dir=(1, 0, 0), z_dir=(0, 0, -1))):
        Circle(F11_R)
    extrude(amount=F12_DEPTH)

    # F13 (on Front) → F14 (revolve)
    with BuildSketch(Plane.XZ):
        with Locations((-16.4204556495, 15.1704549789)):
            Rectangle(F13_W, F13_H)
    revolve(axis=Axis((0, 0, 15.9659092315), (0, 0, -1)))

    # F15 (on Front) → F16 (join)
    with BuildSketch(Plane.XZ):
        with Locations((-7.55681796, 16.0795468837)):
            Circle(F15_R)
        with Locations((7.55681796, 16.0795468837)):
            Circle(F15_R)
    extrude(amount=F16_DEPTH)

    # F17 (on Front) → F18 (cut)
    with BuildSketch(Plane.XZ):
        with Locations((-7.55681796, 16.3068193942)):
            Circle(F17_R)
        with Locations((7.55681796, 16.3068193942)):
            Circle(F17_R)
    extrude(amount=F18_DEPTH, mode=Mode.SUBTRACT)


solid = f1.part
